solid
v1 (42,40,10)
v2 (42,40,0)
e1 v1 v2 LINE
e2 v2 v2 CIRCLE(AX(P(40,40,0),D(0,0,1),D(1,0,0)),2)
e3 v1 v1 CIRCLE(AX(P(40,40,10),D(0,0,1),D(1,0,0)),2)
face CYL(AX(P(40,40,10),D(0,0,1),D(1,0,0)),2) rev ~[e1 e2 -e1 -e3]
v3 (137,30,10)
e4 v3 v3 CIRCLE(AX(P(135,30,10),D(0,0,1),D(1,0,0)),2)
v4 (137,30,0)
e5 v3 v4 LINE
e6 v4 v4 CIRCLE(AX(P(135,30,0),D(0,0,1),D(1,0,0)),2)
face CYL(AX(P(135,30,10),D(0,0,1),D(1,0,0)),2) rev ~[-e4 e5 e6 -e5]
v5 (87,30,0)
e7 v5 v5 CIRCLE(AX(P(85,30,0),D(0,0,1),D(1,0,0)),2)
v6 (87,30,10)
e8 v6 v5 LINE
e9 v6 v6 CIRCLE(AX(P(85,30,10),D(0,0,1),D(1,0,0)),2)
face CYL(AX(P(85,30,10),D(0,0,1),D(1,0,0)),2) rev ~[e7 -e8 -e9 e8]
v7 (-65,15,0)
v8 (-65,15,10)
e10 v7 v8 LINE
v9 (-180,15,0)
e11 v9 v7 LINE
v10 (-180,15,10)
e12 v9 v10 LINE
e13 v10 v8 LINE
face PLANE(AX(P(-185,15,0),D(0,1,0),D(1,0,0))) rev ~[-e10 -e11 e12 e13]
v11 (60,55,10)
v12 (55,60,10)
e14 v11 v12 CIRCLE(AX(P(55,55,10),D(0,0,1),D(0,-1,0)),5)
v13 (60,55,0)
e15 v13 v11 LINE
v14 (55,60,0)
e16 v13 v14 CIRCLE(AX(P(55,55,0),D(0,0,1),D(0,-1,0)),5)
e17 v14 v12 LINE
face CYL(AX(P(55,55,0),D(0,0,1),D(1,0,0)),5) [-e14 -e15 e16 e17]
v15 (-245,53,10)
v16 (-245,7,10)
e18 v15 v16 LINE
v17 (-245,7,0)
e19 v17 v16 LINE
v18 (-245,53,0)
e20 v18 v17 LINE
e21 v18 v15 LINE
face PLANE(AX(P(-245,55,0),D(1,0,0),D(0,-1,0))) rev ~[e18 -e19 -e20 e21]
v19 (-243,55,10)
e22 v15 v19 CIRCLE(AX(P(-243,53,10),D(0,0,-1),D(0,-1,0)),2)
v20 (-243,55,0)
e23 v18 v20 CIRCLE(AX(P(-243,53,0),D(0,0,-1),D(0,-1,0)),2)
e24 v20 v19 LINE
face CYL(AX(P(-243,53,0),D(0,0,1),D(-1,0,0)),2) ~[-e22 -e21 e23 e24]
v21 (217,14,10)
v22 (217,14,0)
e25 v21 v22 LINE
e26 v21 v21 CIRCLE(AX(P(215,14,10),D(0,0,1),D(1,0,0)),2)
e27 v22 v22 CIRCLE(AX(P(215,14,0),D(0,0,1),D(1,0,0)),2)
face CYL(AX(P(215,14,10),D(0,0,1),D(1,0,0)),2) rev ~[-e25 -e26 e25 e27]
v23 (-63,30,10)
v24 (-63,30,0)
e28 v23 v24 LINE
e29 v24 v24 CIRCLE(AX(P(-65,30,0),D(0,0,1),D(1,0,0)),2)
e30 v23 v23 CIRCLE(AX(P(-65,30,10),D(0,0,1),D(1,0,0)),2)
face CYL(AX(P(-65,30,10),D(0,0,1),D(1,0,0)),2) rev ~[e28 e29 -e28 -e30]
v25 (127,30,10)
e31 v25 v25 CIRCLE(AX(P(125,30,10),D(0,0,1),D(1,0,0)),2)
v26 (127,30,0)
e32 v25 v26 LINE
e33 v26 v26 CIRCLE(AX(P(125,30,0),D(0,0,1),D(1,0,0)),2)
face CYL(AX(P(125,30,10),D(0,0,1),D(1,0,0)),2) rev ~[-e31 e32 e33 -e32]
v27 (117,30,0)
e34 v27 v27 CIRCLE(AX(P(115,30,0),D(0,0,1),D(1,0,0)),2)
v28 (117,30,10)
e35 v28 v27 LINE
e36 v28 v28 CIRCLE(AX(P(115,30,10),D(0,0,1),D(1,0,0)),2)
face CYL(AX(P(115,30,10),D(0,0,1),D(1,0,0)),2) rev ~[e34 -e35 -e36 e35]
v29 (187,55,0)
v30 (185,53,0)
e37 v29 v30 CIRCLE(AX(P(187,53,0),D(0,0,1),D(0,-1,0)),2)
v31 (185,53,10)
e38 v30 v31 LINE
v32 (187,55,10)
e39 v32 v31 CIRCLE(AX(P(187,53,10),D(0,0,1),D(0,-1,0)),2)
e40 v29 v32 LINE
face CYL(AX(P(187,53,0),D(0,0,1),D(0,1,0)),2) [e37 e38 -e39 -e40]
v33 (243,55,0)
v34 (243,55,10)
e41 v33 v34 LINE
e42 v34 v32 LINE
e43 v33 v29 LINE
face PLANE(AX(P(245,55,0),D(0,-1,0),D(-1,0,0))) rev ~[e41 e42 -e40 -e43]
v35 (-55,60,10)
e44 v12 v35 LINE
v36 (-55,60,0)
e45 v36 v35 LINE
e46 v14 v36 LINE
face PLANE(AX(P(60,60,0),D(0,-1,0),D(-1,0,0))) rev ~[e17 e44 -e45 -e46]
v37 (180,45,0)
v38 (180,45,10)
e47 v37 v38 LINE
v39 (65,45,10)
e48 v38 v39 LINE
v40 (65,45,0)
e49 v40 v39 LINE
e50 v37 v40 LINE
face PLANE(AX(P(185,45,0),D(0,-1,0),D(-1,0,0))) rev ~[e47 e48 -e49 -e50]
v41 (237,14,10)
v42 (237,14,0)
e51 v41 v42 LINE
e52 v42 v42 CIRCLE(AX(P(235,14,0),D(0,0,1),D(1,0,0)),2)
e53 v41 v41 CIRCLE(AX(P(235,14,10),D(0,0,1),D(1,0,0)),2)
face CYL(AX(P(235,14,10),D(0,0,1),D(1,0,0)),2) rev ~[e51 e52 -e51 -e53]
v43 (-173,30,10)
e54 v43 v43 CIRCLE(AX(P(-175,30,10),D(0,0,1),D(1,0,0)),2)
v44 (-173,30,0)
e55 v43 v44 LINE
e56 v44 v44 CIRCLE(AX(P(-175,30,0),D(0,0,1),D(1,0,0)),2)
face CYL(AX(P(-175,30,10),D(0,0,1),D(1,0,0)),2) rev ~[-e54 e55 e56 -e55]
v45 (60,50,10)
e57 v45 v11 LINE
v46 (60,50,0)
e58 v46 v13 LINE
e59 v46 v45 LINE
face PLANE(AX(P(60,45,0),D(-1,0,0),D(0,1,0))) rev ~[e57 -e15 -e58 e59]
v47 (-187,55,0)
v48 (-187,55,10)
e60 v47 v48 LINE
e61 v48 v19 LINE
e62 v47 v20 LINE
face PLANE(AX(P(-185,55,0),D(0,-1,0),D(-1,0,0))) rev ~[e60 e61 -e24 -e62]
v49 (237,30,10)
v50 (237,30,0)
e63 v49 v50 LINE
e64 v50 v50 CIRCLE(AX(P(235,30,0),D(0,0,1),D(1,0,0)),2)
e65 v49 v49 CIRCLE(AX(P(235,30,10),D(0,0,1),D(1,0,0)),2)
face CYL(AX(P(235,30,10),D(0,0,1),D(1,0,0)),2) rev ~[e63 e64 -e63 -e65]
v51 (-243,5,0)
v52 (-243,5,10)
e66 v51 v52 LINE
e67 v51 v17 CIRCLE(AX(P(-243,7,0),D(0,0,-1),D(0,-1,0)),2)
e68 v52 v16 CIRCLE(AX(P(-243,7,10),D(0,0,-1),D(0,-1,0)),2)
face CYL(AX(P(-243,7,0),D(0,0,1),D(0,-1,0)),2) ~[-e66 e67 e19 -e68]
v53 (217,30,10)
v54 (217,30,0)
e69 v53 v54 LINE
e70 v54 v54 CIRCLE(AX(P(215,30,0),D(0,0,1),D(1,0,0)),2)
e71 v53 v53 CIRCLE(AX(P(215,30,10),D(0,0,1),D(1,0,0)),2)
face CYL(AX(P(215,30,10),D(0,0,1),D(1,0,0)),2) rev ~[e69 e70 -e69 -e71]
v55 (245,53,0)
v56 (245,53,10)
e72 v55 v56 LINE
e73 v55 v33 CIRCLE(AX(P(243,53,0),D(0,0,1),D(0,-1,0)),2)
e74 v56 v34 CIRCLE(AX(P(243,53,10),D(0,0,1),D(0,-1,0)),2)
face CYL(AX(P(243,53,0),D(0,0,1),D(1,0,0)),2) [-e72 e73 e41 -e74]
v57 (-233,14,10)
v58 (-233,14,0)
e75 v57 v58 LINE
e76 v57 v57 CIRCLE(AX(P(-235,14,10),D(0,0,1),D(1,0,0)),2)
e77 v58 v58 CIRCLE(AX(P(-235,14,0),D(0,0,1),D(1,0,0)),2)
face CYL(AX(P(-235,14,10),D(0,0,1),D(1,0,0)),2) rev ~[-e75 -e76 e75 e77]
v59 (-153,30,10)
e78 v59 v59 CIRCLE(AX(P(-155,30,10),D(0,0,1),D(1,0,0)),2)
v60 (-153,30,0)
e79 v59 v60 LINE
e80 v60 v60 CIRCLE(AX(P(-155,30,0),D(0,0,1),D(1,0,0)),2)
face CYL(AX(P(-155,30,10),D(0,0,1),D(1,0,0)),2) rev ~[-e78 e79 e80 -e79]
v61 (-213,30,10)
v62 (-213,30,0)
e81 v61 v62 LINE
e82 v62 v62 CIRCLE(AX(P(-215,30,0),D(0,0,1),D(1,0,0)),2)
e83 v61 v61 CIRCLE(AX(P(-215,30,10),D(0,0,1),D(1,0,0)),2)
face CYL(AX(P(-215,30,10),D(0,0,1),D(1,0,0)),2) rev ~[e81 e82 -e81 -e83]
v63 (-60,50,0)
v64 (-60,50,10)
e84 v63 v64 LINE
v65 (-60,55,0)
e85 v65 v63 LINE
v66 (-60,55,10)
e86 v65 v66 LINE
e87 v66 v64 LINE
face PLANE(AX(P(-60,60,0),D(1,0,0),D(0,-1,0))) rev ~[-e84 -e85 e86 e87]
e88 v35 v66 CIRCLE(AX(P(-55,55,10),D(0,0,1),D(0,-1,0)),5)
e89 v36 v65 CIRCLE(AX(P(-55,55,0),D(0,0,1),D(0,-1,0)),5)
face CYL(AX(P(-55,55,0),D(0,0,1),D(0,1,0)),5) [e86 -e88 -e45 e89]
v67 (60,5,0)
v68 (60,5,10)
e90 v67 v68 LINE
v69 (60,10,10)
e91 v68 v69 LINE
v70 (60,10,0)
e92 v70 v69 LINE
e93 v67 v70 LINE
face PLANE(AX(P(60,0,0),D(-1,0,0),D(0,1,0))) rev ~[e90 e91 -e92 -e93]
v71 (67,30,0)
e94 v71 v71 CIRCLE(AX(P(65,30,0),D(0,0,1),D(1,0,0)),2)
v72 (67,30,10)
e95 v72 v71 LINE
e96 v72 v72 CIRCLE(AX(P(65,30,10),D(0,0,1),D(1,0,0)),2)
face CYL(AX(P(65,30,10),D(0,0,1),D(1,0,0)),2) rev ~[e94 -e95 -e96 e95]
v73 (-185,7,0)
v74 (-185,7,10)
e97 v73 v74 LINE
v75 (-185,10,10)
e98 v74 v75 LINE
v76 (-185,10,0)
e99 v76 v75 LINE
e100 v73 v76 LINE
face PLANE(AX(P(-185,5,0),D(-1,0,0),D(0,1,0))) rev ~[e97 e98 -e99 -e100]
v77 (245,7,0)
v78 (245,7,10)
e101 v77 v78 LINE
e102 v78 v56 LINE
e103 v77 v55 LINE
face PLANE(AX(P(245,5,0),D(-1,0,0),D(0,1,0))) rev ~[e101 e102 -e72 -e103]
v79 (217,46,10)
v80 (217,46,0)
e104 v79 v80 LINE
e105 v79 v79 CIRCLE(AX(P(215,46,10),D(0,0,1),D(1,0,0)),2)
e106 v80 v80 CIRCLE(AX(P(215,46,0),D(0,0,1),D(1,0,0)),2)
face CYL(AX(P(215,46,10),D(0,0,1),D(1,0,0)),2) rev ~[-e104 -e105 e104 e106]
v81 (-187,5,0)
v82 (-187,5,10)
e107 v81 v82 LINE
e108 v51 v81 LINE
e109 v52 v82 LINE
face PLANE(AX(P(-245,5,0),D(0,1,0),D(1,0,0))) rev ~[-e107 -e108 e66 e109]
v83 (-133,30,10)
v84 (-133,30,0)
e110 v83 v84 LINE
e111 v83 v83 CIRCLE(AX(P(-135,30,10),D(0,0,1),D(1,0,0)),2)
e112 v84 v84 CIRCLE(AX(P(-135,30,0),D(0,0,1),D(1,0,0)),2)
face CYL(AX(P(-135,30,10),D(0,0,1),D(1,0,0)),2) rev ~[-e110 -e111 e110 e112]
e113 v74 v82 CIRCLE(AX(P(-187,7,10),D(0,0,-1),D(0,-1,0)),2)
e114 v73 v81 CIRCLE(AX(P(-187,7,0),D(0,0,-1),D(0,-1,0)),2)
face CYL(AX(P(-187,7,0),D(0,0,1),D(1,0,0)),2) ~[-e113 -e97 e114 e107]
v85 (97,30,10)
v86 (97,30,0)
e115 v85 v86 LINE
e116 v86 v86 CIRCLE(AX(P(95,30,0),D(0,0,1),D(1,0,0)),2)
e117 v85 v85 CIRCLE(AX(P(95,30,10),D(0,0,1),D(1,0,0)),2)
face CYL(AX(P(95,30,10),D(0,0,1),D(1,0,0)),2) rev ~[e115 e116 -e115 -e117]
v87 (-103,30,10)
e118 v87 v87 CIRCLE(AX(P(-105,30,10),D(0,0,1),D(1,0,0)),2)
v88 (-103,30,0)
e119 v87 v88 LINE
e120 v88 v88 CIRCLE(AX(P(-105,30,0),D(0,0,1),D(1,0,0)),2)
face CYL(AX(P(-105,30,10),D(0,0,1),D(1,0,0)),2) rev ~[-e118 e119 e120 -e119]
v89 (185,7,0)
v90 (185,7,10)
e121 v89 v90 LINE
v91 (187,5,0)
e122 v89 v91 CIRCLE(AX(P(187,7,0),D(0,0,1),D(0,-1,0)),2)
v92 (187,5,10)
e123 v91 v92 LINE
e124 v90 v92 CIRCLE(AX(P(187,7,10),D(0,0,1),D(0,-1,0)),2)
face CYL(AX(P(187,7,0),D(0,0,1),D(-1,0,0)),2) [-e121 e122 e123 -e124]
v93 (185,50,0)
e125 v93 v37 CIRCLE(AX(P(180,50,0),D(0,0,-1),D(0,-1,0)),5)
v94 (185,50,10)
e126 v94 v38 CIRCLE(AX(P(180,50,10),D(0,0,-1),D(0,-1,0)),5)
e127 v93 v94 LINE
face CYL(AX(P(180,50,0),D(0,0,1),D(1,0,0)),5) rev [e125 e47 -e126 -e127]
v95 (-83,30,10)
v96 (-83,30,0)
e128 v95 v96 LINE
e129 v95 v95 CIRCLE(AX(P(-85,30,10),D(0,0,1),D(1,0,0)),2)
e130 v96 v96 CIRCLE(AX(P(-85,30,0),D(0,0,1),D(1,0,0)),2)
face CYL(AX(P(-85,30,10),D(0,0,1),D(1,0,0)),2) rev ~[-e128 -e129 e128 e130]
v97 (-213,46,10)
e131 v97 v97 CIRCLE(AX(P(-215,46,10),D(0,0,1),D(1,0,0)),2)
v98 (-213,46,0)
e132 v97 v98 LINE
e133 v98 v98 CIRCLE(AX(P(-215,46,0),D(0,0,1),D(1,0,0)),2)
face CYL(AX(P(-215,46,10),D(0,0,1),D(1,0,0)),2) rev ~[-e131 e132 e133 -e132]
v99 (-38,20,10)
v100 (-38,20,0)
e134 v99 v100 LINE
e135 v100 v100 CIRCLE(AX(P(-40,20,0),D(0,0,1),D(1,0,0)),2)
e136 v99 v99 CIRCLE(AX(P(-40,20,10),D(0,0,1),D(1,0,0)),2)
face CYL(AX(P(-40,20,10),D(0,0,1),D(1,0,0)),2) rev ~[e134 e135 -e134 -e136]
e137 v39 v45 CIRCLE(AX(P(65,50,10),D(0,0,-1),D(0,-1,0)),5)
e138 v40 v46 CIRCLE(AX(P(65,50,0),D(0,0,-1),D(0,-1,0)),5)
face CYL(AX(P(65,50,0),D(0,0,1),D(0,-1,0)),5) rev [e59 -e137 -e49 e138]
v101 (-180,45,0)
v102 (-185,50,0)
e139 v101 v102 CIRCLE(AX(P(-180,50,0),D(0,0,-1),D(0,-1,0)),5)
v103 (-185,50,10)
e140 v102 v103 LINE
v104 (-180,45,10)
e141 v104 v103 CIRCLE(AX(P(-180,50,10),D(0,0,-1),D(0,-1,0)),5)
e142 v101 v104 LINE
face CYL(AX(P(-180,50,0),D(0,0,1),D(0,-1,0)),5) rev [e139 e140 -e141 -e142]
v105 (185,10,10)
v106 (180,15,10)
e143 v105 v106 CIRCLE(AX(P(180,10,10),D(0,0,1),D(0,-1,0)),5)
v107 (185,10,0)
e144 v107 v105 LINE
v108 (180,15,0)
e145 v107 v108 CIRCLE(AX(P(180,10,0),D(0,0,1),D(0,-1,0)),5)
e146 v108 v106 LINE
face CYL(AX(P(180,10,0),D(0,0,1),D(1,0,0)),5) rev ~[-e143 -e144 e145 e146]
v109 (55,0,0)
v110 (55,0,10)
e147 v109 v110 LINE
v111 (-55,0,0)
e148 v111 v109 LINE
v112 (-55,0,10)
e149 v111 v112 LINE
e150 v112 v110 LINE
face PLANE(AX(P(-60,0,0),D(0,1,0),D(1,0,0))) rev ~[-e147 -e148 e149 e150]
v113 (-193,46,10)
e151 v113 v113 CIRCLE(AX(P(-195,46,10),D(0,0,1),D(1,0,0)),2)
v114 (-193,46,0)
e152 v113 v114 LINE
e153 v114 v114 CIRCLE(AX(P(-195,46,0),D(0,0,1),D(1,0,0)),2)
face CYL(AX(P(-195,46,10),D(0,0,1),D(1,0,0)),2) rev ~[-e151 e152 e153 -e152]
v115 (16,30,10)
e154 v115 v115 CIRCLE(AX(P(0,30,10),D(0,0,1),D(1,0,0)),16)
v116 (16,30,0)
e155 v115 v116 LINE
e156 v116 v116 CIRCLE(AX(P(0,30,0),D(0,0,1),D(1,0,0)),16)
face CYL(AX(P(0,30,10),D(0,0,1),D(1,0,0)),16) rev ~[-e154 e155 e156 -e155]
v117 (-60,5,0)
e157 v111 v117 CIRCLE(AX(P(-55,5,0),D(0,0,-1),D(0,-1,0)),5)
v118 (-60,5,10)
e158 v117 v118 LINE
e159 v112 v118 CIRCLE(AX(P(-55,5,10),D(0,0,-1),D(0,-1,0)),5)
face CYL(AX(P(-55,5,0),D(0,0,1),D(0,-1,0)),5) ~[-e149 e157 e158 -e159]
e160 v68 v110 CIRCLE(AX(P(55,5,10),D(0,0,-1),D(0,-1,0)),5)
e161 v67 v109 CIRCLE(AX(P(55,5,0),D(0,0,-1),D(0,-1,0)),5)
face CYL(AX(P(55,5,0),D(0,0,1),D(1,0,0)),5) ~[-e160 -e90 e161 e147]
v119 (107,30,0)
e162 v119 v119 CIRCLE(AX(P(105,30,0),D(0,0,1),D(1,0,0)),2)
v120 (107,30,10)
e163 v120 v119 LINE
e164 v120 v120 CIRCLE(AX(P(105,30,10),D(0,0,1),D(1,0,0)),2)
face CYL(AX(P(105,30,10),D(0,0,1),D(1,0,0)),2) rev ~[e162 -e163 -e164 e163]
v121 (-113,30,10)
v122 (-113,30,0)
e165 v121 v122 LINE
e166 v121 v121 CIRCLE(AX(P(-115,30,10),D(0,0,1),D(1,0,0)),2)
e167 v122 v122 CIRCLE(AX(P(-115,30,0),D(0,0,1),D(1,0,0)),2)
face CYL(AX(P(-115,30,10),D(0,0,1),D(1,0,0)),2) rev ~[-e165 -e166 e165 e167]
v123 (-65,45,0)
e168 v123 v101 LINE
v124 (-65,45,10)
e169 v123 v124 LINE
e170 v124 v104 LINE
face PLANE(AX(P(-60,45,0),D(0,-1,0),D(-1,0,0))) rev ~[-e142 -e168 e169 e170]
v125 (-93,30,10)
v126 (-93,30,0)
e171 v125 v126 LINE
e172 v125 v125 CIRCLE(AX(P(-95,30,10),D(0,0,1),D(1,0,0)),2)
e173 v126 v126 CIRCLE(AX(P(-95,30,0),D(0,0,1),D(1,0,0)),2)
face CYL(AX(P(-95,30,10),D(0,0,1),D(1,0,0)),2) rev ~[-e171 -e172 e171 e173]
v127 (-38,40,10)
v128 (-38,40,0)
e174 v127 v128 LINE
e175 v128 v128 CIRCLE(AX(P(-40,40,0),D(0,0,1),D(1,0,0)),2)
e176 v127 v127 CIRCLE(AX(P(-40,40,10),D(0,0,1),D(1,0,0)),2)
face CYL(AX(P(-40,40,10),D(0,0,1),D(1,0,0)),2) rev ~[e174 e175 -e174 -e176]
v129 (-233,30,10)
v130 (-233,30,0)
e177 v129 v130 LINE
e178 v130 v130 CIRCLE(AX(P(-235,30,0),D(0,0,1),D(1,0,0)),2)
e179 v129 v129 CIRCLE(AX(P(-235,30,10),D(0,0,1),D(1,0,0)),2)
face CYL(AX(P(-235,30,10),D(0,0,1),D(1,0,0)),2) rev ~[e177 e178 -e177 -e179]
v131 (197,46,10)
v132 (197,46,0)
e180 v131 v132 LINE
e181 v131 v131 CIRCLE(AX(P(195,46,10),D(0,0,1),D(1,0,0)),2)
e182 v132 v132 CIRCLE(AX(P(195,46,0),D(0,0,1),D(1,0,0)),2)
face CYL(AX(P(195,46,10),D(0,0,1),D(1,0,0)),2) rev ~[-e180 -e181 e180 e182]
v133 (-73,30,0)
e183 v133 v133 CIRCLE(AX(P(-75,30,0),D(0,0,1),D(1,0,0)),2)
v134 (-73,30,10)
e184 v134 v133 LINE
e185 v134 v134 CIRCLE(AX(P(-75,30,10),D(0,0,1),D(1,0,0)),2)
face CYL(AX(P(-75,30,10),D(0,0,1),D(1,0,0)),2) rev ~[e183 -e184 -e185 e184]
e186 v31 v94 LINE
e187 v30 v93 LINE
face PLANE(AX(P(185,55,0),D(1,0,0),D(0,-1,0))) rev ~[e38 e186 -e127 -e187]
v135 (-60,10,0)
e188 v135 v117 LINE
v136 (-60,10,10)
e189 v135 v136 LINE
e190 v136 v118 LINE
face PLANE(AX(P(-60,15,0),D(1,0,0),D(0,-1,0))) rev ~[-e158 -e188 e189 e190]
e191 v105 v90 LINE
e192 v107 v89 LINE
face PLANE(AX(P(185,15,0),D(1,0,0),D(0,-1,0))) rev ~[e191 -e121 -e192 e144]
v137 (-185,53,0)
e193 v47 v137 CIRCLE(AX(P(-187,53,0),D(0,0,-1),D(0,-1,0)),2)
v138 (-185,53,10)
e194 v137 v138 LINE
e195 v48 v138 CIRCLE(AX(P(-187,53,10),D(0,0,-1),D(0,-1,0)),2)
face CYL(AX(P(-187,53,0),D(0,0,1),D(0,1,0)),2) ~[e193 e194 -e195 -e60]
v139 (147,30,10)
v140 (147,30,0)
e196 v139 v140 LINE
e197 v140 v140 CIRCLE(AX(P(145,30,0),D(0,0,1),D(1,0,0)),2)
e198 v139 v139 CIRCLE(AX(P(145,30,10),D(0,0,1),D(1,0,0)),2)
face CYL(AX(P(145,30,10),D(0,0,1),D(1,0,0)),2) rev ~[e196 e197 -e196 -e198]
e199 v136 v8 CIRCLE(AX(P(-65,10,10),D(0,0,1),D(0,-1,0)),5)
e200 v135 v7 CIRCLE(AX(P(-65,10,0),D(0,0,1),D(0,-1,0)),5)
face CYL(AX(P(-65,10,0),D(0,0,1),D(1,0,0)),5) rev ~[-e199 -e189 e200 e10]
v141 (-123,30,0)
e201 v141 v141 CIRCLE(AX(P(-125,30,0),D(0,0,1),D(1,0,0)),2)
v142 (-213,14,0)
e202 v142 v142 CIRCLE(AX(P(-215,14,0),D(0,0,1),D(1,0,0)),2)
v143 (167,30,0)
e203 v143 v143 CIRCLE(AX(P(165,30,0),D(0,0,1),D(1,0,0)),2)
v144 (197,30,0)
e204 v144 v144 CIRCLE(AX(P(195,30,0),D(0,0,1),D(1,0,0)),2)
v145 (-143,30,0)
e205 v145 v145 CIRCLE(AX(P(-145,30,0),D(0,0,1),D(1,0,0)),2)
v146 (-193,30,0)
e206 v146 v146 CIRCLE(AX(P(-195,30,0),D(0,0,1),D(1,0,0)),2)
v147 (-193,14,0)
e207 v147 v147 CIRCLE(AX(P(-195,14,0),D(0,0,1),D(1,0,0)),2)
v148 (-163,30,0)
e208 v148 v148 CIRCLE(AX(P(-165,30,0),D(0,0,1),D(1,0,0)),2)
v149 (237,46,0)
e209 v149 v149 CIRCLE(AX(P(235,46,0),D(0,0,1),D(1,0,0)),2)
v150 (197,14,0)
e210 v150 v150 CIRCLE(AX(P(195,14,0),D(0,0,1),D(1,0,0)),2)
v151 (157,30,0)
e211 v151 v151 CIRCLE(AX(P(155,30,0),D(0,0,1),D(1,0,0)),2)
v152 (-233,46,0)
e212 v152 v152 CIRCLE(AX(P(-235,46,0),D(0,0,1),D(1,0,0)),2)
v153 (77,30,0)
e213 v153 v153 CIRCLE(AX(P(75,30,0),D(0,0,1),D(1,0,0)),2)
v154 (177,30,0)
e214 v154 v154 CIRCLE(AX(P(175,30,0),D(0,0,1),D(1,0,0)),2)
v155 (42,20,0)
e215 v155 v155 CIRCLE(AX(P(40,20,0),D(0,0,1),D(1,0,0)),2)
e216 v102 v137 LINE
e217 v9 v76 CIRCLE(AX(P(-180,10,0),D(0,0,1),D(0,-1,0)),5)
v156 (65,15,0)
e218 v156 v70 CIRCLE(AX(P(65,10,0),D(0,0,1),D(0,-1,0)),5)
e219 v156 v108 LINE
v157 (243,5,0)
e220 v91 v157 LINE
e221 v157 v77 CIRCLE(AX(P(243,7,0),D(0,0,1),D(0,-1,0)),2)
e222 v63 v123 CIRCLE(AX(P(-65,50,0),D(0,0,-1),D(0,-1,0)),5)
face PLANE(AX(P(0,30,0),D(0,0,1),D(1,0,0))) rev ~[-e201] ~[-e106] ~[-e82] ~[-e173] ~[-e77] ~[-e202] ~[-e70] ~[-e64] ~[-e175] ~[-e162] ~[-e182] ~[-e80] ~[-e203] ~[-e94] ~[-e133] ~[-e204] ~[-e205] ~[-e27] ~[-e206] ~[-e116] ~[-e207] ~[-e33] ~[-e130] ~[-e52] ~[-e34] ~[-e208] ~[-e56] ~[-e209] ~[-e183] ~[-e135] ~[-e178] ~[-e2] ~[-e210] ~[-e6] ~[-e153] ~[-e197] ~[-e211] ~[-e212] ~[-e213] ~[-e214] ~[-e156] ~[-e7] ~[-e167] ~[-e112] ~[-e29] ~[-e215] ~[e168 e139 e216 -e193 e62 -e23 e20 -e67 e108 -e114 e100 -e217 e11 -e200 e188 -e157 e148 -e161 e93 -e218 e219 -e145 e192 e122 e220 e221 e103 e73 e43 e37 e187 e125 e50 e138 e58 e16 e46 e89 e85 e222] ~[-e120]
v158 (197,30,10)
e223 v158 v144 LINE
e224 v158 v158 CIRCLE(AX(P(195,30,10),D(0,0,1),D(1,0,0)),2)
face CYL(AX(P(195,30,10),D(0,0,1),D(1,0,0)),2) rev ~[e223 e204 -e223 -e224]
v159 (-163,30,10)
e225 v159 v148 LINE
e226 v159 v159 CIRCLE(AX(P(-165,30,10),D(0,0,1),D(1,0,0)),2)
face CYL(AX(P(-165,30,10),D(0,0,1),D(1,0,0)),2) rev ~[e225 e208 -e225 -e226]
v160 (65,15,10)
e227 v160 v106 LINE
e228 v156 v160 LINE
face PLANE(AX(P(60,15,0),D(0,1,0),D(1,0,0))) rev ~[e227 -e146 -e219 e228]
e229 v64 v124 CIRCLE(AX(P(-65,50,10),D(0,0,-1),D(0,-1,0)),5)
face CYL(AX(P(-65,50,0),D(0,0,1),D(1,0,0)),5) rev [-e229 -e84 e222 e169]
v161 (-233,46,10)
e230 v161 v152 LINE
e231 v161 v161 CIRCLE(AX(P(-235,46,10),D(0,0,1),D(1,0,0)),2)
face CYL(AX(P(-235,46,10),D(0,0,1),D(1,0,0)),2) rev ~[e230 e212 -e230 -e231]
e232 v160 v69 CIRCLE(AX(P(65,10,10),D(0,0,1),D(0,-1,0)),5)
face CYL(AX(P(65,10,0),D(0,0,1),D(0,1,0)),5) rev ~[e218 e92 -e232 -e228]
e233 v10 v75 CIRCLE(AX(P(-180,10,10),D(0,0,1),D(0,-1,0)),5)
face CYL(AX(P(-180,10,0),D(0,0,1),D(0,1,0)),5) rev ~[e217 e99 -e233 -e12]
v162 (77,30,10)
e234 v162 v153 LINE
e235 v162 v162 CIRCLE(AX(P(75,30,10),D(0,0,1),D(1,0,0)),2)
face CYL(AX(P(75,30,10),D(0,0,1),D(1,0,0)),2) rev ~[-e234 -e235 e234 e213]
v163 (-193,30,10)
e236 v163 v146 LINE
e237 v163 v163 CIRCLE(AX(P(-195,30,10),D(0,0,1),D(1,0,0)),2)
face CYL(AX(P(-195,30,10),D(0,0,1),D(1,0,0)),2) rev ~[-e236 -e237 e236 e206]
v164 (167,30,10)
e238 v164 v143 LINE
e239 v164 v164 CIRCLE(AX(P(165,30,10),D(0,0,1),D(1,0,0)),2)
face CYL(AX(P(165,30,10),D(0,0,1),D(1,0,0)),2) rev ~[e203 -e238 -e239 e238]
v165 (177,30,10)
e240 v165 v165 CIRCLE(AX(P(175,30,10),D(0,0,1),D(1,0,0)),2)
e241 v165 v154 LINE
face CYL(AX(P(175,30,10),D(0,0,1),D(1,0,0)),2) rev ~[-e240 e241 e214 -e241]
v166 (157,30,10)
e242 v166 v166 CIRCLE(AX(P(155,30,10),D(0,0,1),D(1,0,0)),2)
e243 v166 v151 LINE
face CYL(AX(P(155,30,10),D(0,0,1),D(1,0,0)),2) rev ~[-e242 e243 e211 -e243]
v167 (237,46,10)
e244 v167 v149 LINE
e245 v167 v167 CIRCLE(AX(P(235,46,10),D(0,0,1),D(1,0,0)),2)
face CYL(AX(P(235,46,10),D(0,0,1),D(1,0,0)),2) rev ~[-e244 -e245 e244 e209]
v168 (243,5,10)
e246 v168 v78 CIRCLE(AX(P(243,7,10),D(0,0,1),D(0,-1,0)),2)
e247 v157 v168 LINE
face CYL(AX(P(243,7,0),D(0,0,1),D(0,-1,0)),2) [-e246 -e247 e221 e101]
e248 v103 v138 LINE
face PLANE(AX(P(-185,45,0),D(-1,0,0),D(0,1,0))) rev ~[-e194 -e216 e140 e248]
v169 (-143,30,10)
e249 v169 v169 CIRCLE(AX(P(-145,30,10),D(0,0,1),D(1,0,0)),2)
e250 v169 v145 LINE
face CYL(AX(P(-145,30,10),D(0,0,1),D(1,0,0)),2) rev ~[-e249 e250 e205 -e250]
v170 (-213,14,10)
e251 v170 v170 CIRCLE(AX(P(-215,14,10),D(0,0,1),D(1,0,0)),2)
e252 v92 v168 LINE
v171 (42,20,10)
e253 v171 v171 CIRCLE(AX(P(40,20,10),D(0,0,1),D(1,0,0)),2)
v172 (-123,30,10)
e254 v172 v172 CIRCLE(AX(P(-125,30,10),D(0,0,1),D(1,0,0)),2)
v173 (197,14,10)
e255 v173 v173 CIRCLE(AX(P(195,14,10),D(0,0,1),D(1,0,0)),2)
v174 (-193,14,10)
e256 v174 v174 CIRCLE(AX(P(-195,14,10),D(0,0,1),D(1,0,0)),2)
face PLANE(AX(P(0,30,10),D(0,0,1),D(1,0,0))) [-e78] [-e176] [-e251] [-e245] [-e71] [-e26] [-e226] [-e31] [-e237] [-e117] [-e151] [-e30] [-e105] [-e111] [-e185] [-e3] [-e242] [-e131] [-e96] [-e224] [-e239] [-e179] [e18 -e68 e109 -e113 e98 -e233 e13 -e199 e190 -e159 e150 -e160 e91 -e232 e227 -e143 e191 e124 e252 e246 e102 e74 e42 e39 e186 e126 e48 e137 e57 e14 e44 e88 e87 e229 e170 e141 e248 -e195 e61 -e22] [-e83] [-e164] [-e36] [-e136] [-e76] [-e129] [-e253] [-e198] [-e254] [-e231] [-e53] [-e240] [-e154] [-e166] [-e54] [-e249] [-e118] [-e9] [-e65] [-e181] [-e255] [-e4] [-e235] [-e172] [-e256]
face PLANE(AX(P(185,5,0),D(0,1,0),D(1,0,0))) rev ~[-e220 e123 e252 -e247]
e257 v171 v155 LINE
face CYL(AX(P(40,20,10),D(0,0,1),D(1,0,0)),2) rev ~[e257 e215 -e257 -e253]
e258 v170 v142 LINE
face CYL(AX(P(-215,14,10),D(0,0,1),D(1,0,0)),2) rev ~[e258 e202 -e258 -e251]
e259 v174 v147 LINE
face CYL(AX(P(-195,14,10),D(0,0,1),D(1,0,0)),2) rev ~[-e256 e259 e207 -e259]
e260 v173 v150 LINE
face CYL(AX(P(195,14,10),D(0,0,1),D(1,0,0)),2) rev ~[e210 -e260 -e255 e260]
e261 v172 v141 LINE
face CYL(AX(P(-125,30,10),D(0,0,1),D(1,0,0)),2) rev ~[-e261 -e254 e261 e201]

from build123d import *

# Parameters (mm, degrees)
BOSS_EXTRUDE1_DEPTH = 10
SKETCH2_R           = 2
SKETCH2_R_2         = 16
CUT_EXTRUDE1_DEPTH  = 11
FILLET1_R           = 5
SKETCH3_R           = 2
CUT_EXTRUDE2_DEPTH  = 11
SKETCH4_R           = 2
CUT_EXTRUDE3_DEPTH  = 11
LPATTERN1_COUNT     = 6
LPATTERN1_PITCH     = 10
LPATTERN1_COL_COUNT = 6
LPATTERN1_COL_PITCH = 10
SKETCH5_R           = 2
CUT_EXTRUDE4_DEPTH  = 11
FILLET2_R           = 2


with BuildPart() as part:
    # Sketch1 → Boss-Extrude1 (new body)
    with BuildSketch(Plane.XY):
        Polygon((245, 5), (245, 55), (185, 55), (185, 45), (60, 45), (60, 60), (-60, 60), (-60, 45), (-185, 45), (-185, 55), (-245, 55), (-245, 5), (-185, 5), (-185, 15), (-60, 15), (-60, 0), (60, 0), (60, 15), (185, 15), (185, 5), align=None)
    extrude(amount=BOSS_EXTRUDE1_DEPTH)

    # Sketch2 → Cut-Extrude1 (cut, through all)
    with BuildSketch(Plane.XY.offset(10)):
        with Locations((40, 20)):
            Circle(SKETCH2_R)
        with Locations((40, 40)):
            Circle(SKETCH2_R)
        with Locations((-40, 40)):
            Circle(SKETCH2_R)
        with Locations((-40, 20)):
            Circle(SKETCH2_R)
        with Locations((0, 30)):
            Circle(SKETCH2_R_2)
    extrude(amount=-CUT_EXTRUDE1_DEPTH, mode=Mode.SUBTRACT)

    # Fillet1
    fillet1_edges = [part.edges().sort_by_distance(p)[0] for p in [
        (185, 15, 5),
        (60, 15, 5),
        (60, 0, 5),
        (-60, 0, 5),
        (-60, 15, 5),
        (-185, 15, 5),
        (-185, 45, 5),
        (-60, 45, 5),
        (-60, 60, 5),
        (60, 60, 5),
        (60, 45, 5),
        (185, 45, 5),
    ]]
    fillet(fillet1_edges, radius=FILLET1_R)

    # Sketch3 → Cut-Extrude2 (cut, through all)
    with BuildSketch(Plane.XY.offset(10)):
        with Locations((-125, 30)):
            Circle(SKETCH3_R)
        with Locations((125, 30)):
            Circle(SKETCH3_R)
    cut_extrude2 = extrude(amount=-CUT_EXTRUDE2_DEPTH, mode=Mode.SUBTRACT)

    # Sketch4 → Cut-Extrude3 (cut, through all)
    with BuildSketch(Plane.XY.offset(10)):
        with Locations((-235, 14)):
            Circle(SKETCH4_R)
        with Locations((-215, 14)):
            Circle(SKETCH4_R)
        with Locations((-195, 14)):
            Circle(SKETCH4_R)
        with Locations((-195, 46)):
            Circle(SKETCH4_R)
        with Locations((-215, 46)):
            Circle(SKETCH4_R)
        with Locations((-235, 46)):
            Circle(SKETCH4_R)
        with Locations((235, 46)):
            Circle(SKETCH4_R)
        with Locations((215, 46)):
            Circle(SKETCH4_R)
        with Locations((195, 46)):
            Circle(SKETCH4_R)
        with Locations((195, 14)):
            Circle(SKETCH4_R)
        with Locations((215, 14)):
            Circle(SKETCH4_R)
        with Locations((235, 14)):
            Circle(SKETCH4_R)
        with Locations((-235, 30)):
            Circle(SKETCH4_R)
        with Locations((-215, 30)):
            Circle(SKETCH4_R)
        with Locations((-195, 30)):
            Circle(SKETCH4_R)
        with Locations((215, 30)):
            Circle(SKETCH4_R)
        with Locations((235, 30)):
            Circle(SKETCH4_R)
        with Locations((195, 30)):
            Circle(SKETCH4_R)
    extrude(amount=-CUT_EXTRUDE3_DEPTH, mode=Mode.SUBTRACT)

    # LPattern1: Cut-Extrude2 ×6
    with Locations(*[(-i * LPATTERN1_PITCH, 0, 0) for i in range(1, LPATTERN1_COUNT)]):
        add(cut_extrude2, mode=Mode.SUBTRACT)

    # LPattern1 col: Cut-Extrude2 ×6
    with Locations(*[(i * LPATTERN1_COL_PITCH, 0, 0) for i in range(1, LPATTERN1_COL_COUNT)]):
        add(cut_extrude2, mode=Mode.SUBTRACT)

    # Sketch5 → Cut-Extrude4 (cut, through all)
    with BuildSketch(Plane.XY.offset(10)):
        with Locations((-65, 30)):
            Circle(SKETCH5_R)
        with Locations((65, 30)):
            Circle(SKETCH5_R)
    extrude(amount=-CUT_EXTRUDE4_DEPTH, mode=Mode.SUBTRACT)

    # Fillet2
    fillet2_edges = [part.edges().sort_by_distance(p)[0] for p in [
        (245, 55, 5),
        (245, 5, 5),
        (185, 5, 5),
        (-185, 5, 5),
        (-245, 5, 5),
        (-245, 55, 5),
        (-185, 55, 5),
        (185, 55, 5),
    ]]
    fillet(fillet2_edges, radius=FILLET2_R)


solid = part.part
